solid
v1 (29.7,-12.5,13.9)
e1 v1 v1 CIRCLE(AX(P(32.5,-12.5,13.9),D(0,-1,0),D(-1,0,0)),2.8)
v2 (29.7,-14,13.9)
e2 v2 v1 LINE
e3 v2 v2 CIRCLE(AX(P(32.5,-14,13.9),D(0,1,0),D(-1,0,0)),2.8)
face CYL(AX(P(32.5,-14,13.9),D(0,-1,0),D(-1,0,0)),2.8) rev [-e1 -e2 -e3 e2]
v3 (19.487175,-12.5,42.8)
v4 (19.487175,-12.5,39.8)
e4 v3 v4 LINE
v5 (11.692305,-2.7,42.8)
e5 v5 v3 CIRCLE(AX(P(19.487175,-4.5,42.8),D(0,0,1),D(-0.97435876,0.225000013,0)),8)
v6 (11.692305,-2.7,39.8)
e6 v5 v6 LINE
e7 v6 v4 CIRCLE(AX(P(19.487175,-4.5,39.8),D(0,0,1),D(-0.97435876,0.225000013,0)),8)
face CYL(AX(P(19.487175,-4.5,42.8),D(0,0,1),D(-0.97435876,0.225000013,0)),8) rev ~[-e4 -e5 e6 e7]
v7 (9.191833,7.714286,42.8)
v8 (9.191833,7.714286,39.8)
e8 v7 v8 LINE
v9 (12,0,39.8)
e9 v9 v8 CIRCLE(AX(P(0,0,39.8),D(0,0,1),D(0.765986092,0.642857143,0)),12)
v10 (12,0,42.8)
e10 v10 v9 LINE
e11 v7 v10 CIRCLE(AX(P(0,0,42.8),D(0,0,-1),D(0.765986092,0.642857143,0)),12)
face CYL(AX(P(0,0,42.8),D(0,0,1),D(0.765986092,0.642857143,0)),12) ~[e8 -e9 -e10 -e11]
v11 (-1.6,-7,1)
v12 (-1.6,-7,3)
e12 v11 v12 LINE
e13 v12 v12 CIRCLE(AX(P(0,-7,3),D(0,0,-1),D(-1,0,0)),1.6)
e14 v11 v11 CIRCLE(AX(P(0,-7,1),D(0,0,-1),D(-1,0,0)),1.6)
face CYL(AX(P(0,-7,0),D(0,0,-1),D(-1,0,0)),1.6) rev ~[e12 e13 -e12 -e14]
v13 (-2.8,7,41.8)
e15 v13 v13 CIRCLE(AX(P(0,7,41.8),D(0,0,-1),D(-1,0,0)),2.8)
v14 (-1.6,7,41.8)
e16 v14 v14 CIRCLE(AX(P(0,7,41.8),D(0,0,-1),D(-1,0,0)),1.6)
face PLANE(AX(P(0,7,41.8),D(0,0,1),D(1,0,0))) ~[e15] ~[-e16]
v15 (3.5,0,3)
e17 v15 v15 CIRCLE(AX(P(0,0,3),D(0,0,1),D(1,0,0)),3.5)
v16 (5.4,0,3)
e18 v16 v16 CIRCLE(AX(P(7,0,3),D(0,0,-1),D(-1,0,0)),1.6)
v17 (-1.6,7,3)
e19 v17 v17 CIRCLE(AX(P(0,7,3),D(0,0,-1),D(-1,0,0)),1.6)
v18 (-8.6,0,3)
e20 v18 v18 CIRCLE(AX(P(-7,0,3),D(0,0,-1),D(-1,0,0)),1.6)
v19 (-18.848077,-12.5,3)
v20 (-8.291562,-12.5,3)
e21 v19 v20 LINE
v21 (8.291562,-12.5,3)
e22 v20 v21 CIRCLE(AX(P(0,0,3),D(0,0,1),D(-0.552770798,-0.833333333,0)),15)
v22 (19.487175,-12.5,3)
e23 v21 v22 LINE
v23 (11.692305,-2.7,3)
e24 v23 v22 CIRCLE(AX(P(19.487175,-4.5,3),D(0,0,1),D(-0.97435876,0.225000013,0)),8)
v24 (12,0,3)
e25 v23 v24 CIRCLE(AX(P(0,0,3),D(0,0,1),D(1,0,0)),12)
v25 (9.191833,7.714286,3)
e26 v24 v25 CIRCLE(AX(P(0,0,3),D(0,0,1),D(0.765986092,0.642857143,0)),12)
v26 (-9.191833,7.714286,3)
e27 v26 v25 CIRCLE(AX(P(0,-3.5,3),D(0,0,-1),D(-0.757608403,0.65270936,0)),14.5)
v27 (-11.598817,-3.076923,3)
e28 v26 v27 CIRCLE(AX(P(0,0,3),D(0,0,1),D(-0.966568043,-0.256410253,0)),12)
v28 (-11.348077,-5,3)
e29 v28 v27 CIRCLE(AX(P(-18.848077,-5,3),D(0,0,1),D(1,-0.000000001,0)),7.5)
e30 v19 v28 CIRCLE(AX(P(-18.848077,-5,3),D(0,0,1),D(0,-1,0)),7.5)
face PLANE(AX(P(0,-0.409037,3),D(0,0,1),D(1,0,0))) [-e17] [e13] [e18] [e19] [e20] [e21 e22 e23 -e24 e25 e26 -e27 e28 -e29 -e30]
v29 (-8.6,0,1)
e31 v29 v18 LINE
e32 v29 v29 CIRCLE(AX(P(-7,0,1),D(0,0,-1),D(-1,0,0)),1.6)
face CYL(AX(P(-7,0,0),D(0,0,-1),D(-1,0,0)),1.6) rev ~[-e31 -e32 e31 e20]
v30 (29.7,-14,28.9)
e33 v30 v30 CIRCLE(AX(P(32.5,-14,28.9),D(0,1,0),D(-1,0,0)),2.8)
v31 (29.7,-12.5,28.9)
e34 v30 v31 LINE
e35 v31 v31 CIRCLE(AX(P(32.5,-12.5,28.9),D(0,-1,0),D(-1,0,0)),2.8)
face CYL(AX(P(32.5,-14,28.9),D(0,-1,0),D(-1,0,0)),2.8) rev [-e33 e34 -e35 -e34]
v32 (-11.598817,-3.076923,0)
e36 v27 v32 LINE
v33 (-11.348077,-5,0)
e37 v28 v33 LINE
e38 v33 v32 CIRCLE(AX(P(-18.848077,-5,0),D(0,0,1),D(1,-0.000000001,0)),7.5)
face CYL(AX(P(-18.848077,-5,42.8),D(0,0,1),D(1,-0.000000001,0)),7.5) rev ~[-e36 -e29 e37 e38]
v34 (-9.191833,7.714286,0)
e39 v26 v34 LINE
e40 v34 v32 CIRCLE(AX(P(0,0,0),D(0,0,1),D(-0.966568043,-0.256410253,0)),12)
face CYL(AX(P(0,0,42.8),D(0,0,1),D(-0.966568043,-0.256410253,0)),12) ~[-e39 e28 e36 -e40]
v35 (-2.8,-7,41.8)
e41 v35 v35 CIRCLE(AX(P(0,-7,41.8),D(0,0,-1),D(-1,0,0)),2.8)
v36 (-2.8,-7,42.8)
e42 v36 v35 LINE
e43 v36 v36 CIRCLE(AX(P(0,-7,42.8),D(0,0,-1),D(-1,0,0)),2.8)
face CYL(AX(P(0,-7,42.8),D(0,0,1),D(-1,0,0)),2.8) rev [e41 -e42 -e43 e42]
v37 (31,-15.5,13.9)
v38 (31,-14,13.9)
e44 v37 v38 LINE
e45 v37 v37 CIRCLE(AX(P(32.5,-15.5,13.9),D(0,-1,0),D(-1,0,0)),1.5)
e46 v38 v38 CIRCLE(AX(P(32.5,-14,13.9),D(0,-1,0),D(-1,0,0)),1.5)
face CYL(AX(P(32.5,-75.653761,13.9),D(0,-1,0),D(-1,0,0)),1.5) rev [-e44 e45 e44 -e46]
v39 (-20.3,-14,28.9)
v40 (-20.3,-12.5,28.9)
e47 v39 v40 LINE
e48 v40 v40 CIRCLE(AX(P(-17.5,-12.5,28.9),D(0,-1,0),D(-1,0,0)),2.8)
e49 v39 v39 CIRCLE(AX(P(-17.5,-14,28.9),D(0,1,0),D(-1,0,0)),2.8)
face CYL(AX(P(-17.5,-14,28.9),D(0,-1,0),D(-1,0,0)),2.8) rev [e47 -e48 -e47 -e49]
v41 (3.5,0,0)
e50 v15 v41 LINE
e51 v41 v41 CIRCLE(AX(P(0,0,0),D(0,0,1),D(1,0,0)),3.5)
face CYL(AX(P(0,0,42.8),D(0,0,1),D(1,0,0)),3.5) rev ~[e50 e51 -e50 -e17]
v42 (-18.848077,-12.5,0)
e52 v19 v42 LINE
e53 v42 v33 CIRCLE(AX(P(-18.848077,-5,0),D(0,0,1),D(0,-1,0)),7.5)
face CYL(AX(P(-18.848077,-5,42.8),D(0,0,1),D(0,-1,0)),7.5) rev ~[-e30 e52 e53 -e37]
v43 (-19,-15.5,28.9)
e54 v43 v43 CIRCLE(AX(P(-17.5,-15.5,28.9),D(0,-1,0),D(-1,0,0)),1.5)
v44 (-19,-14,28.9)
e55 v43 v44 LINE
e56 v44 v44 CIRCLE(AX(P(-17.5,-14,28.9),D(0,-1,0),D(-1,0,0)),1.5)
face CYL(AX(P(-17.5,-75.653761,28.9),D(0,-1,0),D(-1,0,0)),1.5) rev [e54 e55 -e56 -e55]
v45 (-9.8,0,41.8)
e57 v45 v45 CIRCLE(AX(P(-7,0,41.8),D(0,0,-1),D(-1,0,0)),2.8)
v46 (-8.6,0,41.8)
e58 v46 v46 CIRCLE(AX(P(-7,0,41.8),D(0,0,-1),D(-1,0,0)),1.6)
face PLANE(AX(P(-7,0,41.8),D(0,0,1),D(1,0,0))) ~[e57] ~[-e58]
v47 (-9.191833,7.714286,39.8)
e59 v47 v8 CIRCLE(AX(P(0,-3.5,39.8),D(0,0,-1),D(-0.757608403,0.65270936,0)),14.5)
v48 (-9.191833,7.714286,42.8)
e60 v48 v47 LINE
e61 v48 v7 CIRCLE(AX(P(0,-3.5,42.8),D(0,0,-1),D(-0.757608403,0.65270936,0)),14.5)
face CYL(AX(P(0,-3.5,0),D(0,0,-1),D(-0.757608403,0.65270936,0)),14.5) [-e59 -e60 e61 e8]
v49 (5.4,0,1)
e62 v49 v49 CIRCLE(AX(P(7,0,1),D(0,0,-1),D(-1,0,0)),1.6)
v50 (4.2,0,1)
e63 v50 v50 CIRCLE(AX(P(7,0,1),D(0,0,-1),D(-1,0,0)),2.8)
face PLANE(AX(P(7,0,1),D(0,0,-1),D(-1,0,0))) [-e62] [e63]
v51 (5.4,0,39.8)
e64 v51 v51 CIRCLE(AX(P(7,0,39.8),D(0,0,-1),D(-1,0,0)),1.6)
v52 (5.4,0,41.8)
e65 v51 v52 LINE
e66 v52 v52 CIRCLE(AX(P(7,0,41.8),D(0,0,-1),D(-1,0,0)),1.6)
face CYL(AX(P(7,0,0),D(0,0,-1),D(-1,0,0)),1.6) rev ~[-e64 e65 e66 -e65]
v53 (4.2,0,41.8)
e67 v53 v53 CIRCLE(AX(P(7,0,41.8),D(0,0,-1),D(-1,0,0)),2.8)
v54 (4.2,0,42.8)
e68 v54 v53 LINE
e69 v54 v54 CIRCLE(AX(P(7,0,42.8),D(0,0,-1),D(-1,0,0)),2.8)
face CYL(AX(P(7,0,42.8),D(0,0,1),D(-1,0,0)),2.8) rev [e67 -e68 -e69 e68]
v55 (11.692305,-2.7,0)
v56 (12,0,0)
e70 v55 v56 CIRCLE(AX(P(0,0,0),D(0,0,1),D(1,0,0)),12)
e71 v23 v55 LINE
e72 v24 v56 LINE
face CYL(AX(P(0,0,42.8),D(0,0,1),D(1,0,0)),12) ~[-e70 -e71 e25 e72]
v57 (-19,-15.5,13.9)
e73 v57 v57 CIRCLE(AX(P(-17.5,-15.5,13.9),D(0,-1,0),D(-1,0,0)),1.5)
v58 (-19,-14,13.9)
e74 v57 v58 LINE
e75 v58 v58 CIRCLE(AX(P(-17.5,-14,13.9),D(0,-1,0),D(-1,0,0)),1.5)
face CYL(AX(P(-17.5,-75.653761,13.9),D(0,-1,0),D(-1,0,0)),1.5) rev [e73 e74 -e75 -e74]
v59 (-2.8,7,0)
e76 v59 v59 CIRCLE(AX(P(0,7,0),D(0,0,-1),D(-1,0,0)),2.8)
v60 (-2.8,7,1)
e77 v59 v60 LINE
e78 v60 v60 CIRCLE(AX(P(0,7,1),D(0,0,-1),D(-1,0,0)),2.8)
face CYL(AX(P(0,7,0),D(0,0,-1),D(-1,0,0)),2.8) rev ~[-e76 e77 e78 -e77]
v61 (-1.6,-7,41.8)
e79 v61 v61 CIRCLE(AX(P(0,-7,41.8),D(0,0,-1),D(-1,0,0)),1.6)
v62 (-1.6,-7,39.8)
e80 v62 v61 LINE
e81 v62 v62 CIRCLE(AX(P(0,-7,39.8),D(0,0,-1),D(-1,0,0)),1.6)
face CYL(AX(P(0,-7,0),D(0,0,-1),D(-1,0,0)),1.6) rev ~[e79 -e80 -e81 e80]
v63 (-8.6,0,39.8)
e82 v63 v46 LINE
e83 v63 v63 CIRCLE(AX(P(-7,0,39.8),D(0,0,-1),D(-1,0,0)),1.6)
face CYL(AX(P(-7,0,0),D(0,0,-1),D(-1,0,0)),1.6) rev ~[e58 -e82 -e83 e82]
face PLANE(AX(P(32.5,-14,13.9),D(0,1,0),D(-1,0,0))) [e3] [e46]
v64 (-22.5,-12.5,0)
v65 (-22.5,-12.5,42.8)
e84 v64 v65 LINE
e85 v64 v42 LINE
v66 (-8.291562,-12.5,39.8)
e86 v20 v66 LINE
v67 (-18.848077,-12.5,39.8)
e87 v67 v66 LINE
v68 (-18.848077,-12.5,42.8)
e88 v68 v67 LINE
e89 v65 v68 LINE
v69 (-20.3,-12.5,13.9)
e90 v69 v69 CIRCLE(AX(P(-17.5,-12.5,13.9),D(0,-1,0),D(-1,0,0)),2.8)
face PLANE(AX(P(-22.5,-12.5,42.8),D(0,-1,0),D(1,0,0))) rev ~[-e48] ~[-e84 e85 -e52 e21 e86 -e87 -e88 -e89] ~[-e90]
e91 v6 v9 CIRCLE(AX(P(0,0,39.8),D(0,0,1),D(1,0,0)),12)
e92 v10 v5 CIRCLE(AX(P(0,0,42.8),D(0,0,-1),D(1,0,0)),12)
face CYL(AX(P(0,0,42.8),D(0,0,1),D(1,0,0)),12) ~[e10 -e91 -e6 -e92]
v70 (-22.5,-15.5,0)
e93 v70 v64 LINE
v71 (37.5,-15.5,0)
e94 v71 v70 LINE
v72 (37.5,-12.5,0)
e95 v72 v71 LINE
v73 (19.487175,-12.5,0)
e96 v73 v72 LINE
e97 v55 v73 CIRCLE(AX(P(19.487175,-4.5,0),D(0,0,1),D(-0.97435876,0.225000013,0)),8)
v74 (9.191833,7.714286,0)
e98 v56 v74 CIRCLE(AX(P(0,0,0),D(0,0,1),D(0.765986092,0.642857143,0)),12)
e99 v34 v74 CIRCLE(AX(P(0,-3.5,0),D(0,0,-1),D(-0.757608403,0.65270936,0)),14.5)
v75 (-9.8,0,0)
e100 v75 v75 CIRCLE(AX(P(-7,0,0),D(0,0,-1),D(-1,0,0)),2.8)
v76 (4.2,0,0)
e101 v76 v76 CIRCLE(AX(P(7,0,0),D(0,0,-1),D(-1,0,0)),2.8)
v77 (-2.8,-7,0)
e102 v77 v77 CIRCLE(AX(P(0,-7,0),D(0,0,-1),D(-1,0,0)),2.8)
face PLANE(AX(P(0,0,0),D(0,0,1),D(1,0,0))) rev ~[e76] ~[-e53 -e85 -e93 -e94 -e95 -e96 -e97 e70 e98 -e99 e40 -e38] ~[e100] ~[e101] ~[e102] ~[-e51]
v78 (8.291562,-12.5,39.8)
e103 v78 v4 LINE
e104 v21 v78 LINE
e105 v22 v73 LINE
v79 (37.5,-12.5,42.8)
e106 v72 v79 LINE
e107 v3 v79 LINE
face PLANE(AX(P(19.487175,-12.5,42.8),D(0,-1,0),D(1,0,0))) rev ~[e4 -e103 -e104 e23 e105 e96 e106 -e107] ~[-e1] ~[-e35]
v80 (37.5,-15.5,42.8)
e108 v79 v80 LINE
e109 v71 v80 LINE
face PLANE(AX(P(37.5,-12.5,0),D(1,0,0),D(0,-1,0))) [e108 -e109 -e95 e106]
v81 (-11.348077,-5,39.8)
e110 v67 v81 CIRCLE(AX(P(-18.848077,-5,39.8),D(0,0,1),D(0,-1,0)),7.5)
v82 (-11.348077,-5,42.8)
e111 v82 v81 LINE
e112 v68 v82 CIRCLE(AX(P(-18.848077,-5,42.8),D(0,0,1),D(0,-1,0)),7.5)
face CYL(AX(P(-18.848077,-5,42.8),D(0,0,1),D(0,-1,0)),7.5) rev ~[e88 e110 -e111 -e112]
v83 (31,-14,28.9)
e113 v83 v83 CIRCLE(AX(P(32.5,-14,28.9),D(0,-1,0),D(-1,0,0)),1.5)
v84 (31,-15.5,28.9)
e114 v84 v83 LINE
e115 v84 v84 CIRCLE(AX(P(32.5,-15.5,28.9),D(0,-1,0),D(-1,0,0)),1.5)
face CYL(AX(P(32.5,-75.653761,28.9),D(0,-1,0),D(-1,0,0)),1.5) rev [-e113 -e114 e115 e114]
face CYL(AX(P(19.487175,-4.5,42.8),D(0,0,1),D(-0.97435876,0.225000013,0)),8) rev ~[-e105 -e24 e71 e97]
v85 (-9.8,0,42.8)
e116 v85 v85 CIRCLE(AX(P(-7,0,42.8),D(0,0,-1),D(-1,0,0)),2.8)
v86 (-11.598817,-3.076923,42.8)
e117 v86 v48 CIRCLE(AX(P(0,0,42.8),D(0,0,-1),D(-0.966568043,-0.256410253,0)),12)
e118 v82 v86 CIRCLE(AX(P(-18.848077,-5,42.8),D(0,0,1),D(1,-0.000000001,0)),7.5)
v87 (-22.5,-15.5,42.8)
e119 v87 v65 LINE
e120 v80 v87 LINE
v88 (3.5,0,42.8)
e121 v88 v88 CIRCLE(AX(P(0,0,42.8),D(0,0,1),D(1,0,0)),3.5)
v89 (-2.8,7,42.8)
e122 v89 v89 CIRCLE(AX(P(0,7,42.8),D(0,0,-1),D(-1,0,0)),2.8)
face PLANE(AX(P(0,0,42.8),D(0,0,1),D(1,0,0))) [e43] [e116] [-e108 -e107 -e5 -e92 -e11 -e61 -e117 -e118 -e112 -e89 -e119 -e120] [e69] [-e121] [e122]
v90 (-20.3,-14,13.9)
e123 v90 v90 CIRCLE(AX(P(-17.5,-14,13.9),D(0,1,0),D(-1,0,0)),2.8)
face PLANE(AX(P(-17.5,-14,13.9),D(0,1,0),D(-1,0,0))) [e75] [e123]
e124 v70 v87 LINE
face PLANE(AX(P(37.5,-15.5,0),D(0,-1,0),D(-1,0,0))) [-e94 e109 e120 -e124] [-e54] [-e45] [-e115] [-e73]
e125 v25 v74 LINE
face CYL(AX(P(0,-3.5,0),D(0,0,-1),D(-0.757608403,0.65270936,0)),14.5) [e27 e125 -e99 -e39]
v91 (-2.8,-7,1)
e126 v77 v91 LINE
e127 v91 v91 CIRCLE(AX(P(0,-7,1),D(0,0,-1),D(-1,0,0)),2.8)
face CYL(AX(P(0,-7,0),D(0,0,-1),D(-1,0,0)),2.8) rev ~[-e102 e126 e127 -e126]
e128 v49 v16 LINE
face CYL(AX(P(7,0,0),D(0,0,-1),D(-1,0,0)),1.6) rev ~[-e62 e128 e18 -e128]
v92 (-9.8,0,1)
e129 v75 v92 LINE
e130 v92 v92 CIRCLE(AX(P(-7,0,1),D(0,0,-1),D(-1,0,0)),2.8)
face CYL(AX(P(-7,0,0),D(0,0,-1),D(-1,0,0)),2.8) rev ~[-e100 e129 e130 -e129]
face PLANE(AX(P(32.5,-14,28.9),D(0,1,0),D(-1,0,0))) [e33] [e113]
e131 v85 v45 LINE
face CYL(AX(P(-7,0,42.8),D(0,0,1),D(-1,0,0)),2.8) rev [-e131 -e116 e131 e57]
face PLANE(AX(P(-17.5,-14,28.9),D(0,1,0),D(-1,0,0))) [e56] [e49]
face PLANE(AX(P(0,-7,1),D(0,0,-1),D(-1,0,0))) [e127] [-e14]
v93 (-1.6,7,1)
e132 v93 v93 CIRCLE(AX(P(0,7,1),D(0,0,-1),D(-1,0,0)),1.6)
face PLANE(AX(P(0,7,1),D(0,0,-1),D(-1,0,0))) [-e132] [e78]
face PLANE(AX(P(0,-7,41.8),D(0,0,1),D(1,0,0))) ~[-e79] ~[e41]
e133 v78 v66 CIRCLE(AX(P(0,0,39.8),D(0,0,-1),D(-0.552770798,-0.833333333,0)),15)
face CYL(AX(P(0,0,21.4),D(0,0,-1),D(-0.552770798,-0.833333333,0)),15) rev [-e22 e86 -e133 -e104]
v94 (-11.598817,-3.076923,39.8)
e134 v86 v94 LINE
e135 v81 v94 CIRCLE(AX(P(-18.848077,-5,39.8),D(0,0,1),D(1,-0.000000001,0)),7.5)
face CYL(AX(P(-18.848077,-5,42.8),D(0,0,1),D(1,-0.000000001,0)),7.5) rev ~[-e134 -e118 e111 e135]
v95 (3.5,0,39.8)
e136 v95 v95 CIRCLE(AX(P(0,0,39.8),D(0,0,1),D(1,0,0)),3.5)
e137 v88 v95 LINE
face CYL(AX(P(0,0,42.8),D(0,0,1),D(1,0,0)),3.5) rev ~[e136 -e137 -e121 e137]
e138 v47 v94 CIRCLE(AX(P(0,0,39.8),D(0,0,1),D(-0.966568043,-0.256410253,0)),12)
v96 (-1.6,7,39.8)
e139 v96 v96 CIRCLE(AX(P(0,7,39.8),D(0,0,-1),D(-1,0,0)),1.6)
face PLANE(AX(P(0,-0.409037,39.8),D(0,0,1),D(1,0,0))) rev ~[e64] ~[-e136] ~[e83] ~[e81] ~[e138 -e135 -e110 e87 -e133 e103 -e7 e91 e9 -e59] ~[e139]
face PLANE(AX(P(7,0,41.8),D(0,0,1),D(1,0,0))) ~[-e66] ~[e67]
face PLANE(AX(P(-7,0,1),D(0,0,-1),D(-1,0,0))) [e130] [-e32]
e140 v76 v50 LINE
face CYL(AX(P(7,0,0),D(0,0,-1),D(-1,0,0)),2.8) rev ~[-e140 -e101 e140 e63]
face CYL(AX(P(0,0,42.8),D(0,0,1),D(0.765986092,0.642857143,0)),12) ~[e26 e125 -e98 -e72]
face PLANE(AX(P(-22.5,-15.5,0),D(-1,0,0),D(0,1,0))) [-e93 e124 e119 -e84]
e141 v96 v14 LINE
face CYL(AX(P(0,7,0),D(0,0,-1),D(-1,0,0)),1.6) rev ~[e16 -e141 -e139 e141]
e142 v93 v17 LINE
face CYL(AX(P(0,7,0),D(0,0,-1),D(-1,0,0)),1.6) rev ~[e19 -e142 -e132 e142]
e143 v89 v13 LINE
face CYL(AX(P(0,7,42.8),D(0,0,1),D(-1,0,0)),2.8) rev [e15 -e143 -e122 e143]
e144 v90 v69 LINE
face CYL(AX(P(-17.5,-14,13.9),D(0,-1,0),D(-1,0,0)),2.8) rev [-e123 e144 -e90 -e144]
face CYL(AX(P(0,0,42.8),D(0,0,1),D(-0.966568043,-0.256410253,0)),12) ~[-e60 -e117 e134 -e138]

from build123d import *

# Parameters (mm, degrees)
SKETCH_1_R                      = 13
EXTRUDE_1_DEPTH                 = 42.8
SKETCH_2_R                      = 3.5
CUT_EXTRUDE_1_DEPTH             = 47.581541409
SKETCH_4_R                      = 1.6
CUT_EXTRUDE_2_DEPTH             = 47.581541409
EXTRUDE_2_DEPTH                 = 42.8
CUT_EXTRUDE_3_DEPTH             = 42.8
CUT_EXTRUDE_4_DEPTH             = 18.4
CUT_EXTRUDE_4_DEPTH_BACK        = 18.4
CUT_EXTRUDE_5_DEPTH             = 63.153760948
CUT_EXTRUDE_5_DEPTH_BACK        = 63.153760948
SKETCH_9_R                      = 1.5
CUT_EXTRUDE_6_DEPTH             = 63.153760948
CUT_EXTRUDE_6_DEPTH_BACK        = 1.5
SKETCH_10_R                     = 2.8
SKETCH_11_R                     = 2.8
CUT_EXTRUDE_7_DEPTH             = 1
CUT_EXTRUDE_8_REACH             = 47.874
CUT_EXTRUDE_8_DIRECTION_2_REACH = 47.874
CUT_EXTRUDE_9_DEPTH             = 59.977453319
CUT_EXTRUDE_10_DEPTH            = 59.977453319


with BuildPart() as part:
    # 草图1 → 凸台-拉伸1 (new body)
    with BuildSketch(Plane.XY):
        Circle(SKETCH_1_R)
    extrude(amount=EXTRUDE_1_DEPTH)

    # 草图2 → 切除-拉伸1 (cut, through all)
    with BuildSketch(Plane.XY.offset(42.8)):
        Circle(SKETCH_2_R)
    extrude(amount=-CUT_EXTRUDE_1_DEPTH, mode=Mode.SUBTRACT)

    # 草图4 → 切除-拉伸2 (cut, through all)
    with BuildSketch(Plane(origin=(0, 0, 0), x_dir=(-1, 0, 0), z_dir=(0, 0, -1))):
        with Locations((0, 7)):
            Circle(SKETCH_4_R)
        with Locations((7, 0)):
            Circle(SKETCH_4_R)
        with Locations((0, -7)):
            Circle(SKETCH_4_R)
        with Locations((-7, 0)):
            Circle(SKETCH_4_R)
    extrude(amount=-CUT_EXTRUDE_2_DEPTH, mode=Mode.SUBTRACT)

    # 草图5 → 凸台-拉伸2 (add)
    with BuildSketch(Plane(origin=(0, 0, 0), x_dir=(-1, 0, 0), z_dir=(0, 0, -1))):
        with BuildLine():
            ThreePointArc((-12.755, -2.511966361), (-17.099037385, -9.686319722), (-25, -12.5))
            Line((-25, -12.5), (-37.5, -12.5))
            Line((-37.5, -12.5), (-37.5, -15.5))
            Line((-37.5, -15.5), (22.5, -15.5))
            Line((22.5, -15.5), (22.5, -12.5))
            ThreePointArc((22.5, -12.5), (16.150397643, -8.956340583), (12.751851852, -2.527899197))
            ThreePointArc((12.751851852, -2.527899197), (-0.008120438, -12.999997464), (-12.755, -2.511966361))
        make_face()
    extrude(amount=-EXTRUDE_2_DEPTH)

    # 草图7 → 切除-拉伸3 (cut)
    with BuildSketch(Plane(origin=(0, 0, 0), x_dir=(-1, 0, 0), z_dir=(0, 0, -1))):
        with BuildLine():
            ThreePointArc((12.5, 0), (0, 12.5), (-12.5, 0))
            ThreePointArc((-12.5, 0), (-12.563913397, -1.262438117), (-12.755, -2.511966361))
            ThreePointArc((-12.755, -2.511966361), (0.008120438, 12.999997464), (12.751851852, -2.527899197))
            ThreePointArc((12.751851852, -2.527899197), (12.563118434, -1.270207041), (12.5, 0))
        make_face()
    extrude(amount=-CUT_EXTRUDE_3_DEPTH, mode=Mode.SUBTRACT)

    # 草图8 → 切除-拉伸4 (cut, two sides: drawn at the far end of the back side and taken through both)
    with BuildSketch(Plane.XY.offset(21.4).offset(-CUT_EXTRUDE_4_DEPTH_BACK)):
        with BuildLine():
            ThreePointArc((-12.5, 0), (-8.838834765, -8.838834765), (0, -12.5))
            ThreePointArc((0, -12.5), (8.838834765, -8.838834765), (12.5, 0))
            ThreePointArc((12.5, 0), (0, 12.5), (-12.5, 0))
        make_face()
        with BuildLine():
            Line((-22.5, -12.5), (0, -12.5))
            ThreePointArc((0, -12.5), (-8.838834765, -8.838834765), (-12.5, 0))
            ThreePointArc((-12.5, 0), (-15.307618379, -8.003905297), (-22.5, -12.5))
        make_face()
        with BuildLine():
            ThreePointArc((12.5, 0), (8.838834765, -8.838834765), (0, -12.5))
            Line((0, -12.5), (25, -12.5))
            ThreePointArc((25, -12.5), (16.161165235, -8.838834765), (12.5, 0))
        make_face()
    extrude(amount=CUT_EXTRUDE_4_DEPTH + CUT_EXTRUDE_4_DEPTH_BACK, mode=Mode.SUBTRACT)

    # 草图9 → 切除-拉伸5 (cut, two sides: drawn at the far end of the back side and taken through both)
    with BuildSketch(Plane(origin=(0, -12.5, 0), x_dir=(1, 0, 0), z_dir=(0, 1, 0)).offset(-CUT_EXTRUDE_5_DEPTH_BACK)):
        with Locations(Location((32.5, -13.9, 0), (0, 0, 180))):
            Circle(SKETCH_9_R)
        with Locations(Location((32.5, -28.9, 0), (0, 0, 180))):
            Circle(SKETCH_9_R)
        with Locations(Location((-17.5, -13.9, 0), (0, 0, 180))):
            Circle(SKETCH_9_R)
        with Locations(Location((-17.5, -28.9, 0), (0, 0, 180))):
            Circle(SKETCH_9_R)
    extrude(amount=CUT_EXTRUDE_5_DEPTH + CUT_EXTRUDE_5_DEPTH_BACK, mode=Mode.SUBTRACT)

    # 草图10 → 切除-拉伸6 (cut, two sides: drawn at the far end of the back side and taken through both)
    with BuildSketch(Plane(origin=(0, -12.5, 0), x_dir=(1, 0, 0), z_dir=(0, 1, 0)).offset(-CUT_EXTRUDE_6_DEPTH_BACK)):
        with Locations(Location((-17.5, -13.9, 0), (0, 0, 180))):
            Circle(SKETCH_10_R)
        with Locations(Location((-17.5, -28.9, 0), (0, 0, 180))):
            Circle(SKETCH_10_R)
        with Locations(Location((32.5, -13.9, 0), (0, 0, 180))):
            Circle(SKETCH_10_R)
        with Locations(Location((32.5, -28.9, 0), (0, 0, 180))):
            Circle(SKETCH_10_R)
    extrude(amount=CUT_EXTRUDE_6_DEPTH + CUT_EXTRUDE_6_DEPTH_BACK, mode=Mode.SUBTRACT)

    # 草图11 → 切除-拉伸7 (cut)
    with BuildSketch(Plane(origin=(0, 0, 0), x_dir=(-1, 0, 0), z_dir=(0, 0, -1))):
        with Locations((0, 7)):
            Circle(SKETCH_11_R)
        with Locations((7, 0)):
            Circle(SKETCH_11_R)
        with Locations((0, -7)):
            Circle(SKETCH_11_R)
        with Locations((-7, 0)):
            Circle(SKETCH_11_R)
    cut_extrude_7 = extrude(amount=-CUT_EXTRUDE_7_DEPTH, mode=Mode.SUBTRACT)

    # 镜向1: 切除-拉伸7 across plane
    add(cut_extrude_7.mirror(Plane.XY.offset(21.4)), mode=Mode.SUBTRACT)

    # 切除-拉伸8: up to this face of the body (flat: up to its plane)
    cut_extrude_8_end = Plane(part.part.faces().sort_by_distance((0, 11.963227236, 3))[0])
    # 草图12 → 切除-拉伸8 (cut, up to the picked face)
    with BuildSketch(Plane.XY.offset(21.4), mode=Mode.PRIVATE) as cut_extrude_8_sk1:
        with BuildLine():
            Line((8.291561976, -12.5), (-8.291561976, -12.5))
            ThreePointArc((-8.291561976, -12.5), (0, -15), (8.291561976, -12.5))
        make_face()
    cut_extrude_8_tool1 = split(extrude(cut_extrude_8_sk1.sketch, amount=-CUT_EXTRUDE_8_REACH, mode=Mode.PRIVATE), bisect_by=cut_extrude_8_end, keep=Keep.BOTH, mode=Mode.PRIVATE)
    add(cut_extrude_8_tool1.solids().sort_by(Axis((0, -13.507506, 21.4), (0, 0, -1)))[0], mode=Mode.SUBTRACT)

    # 切除-拉伸8 direction 2: up to this face of the body (flat: up to its plane)
    cut_extrude_8_direction_2_end = Plane(part.part.faces().sort_by_distance((0, 11.963227236, 39.8))[0])
    # 草图12 → 切除-拉伸8 direction 2 (cut, up to the picked face)
    with BuildSketch(Plane.XY.offset(21.4), mode=Mode.PRIVATE) as cut_extrude_8_direction_2_sk1:
        with BuildLine():
            Line((8.291561976, -12.5), (-8.291561976, -12.5))
            ThreePointArc((-8.291561976, -12.5), (0, -15), (8.291561976, -12.5))
        make_face()
    cut_extrude_8_direction_2_tool1 = split(extrude(cut_extrude_8_direction_2_sk1.sketch, amount=CUT_EXTRUDE_8_DIRECTION_2_REACH, mode=Mode.PRIVATE), bisect_by=cut_extrude_8_direction_2_end, keep=Keep.BOTH, mode=Mode.PRIVATE)
    add(cut_extrude_8_direction_2_tool1.solids().sort_by(Axis((0, -13.507506, 21.4), (0, 0, 1)))[0], mode=Mode.SUBTRACT)

    # 草图13 → 切除-拉伸9 (cut, through all)
    with BuildSketch(Plane(origin=(0, 0, 0), x_dir=(-1, 0, 0), z_dir=(0, 0, -1))):
        with BuildLine():
            ThreePointArc((10.98532184, 5.964285714), (0, 11), (-10.98532184, 5.964285714))
            ThreePointArc((-10.98532184, 5.964285714), (0, 12.5), (10.98532184, 5.964285714))
        make_face()
    extrude(amount=-CUT_EXTRUDE_9_DEPTH, mode=Mode.SUBTRACT)

    # 草图14 → 切除-拉伸10 (cut, through all)
    with BuildSketch(Plane.XY.offset(42.8)):
        with BuildLine():
            ThreePointArc((-21.180750885, -12.128017377), (-20.029150419, -12.406420537), (-18.848076825, -12.5))
            ThreePointArc((-18.848076825, -12.5), (-13.544775966, -10.303300859), (-11.348076825, -5))
            ThreePointArc((-11.348076825, -5), (-11.411025921, -4.030322808), (-11.59881652, -3.076923029))
            ThreePointArc((-11.59881652, -3.076923029), (-11.98420936, -1.977199407), (-12.535301413, -0.950448592))
            ThreePointArc((-12.535301413, -0.950448592), (-15.17777558, -7.838846674), (-21.180750885, -12.128017377))
        make_face()
        with BuildLine():
            ThreePointArc((-12.535301413, -0.950448592), (-24.780598437, -0.411406825), (-21.180750885, -12.128017377))
            ThreePointArc((-21.180750885, -12.128017377), (-15.17777558, -7.838846674), (-12.535301413, -0.950448592))
        make_face()
        with BuildLine():
            ThreePointArc((-12.5, 0), (-12.508828395, -0.475551973), (-12.535301413, -0.950448592))
            ThreePointArc((-12.535301413, -0.950448592), (-11.98420936, -1.977199407), (-11.59881652, -3.076923029))
            ThreePointArc((-11.59881652, -3.076923029), (-11.71218701, 2.61240798), (-9.19183311, 7.714285714))
            ThreePointArc((-9.19183311, 7.714285714), (-10.126451524, 6.87810096), (-10.98532184, 5.964285714))
            ThreePointArc((-10.98532184, 5.964285714), (-12.115414211, 3.076806543), (-12.5, 0))
        make_face()
        with BuildLine():
            ThreePointArc((-21.180750885, -12.128017377), (-21.835397512, -12.331663089), (-22.5, -12.5))
            Line((-22.5, -12.5), (-18.848076825, -12.5))
            ThreePointArc((-18.848076825, -12.5), (-20.029150419, -12.406420537), (-21.180750885, -12.128017377))
        make_face()
        with BuildLine():
            ThreePointArc((21.931346237, -12.117481755), (20.724136458, -12.403791939), (19.48717527, -12.5))
            Line((19.48717527, -12.5), (25, -12.5))
            ThreePointArc((25, -12.5), (23.453798515, -12.404001813), (21.931346237, -12.117481755))
        make_face()
        with BuildLine():
            ThreePointArc((11.692305187, -2.699999893), (13.226184899, -9.479959796), (19.48717527, -12.5))
            ThreePointArc((19.48717527, -12.5), (20.724136458, -12.403791939), (21.931346237, -12.117481755))
            ThreePointArc((21.931346237, -12.117481755), (15.316506899, -7.904426694), (12.513458103, -0.579889175))
            ThreePointArc((12.513458103, -0.579889175), (12.027181322, -1.610624584), (11.692305187, -2.699999893))
        make_face()
        with BuildLine():
            ThreePointArc((12.513458103, -0.579889175), (15.316506899, -7.904426694), (21.931346237, -12.117481755))
            ThreePointArc((21.931346237, -12.117481755), (25.950663791, -9.214161233), (27.48717527, -4.5))
            ThreePointArc((27.48717527, -4.5), (21.513287639, 3.239177519), (12.513458103, -0.579889175))
        make_face()
        with BuildLine():
            ThreePointArc((12, 0), (11.922828151, -1.358737973), (11.692305187, -2.699999893))
            ThreePointArc((11.692305187, -2.699999893), (12.027181322, -1.610624584), (12.513458103, -0.579889175))
            ThreePointArc((12.513458103, -0.579889175), (12.503364979, -0.290022661), (12.5, 0))
            ThreePointArc((12.5, 0), (12.115414211, 3.076806543), (10.98532184, 5.964285714))
            ThreePointArc((10.98532184, 5.964285714), (10.126451524, 6.87810096), (9.19183311, 7.714285714))
            ThreePointArc((9.19183311, 7.714285714), (11.276125162, 4.104753506), (12, 0))
        make_face()
    extrude(amount=-CUT_EXTRUDE_10_DEPTH, mode=Mode.SUBTRACT)


solid = part.part
